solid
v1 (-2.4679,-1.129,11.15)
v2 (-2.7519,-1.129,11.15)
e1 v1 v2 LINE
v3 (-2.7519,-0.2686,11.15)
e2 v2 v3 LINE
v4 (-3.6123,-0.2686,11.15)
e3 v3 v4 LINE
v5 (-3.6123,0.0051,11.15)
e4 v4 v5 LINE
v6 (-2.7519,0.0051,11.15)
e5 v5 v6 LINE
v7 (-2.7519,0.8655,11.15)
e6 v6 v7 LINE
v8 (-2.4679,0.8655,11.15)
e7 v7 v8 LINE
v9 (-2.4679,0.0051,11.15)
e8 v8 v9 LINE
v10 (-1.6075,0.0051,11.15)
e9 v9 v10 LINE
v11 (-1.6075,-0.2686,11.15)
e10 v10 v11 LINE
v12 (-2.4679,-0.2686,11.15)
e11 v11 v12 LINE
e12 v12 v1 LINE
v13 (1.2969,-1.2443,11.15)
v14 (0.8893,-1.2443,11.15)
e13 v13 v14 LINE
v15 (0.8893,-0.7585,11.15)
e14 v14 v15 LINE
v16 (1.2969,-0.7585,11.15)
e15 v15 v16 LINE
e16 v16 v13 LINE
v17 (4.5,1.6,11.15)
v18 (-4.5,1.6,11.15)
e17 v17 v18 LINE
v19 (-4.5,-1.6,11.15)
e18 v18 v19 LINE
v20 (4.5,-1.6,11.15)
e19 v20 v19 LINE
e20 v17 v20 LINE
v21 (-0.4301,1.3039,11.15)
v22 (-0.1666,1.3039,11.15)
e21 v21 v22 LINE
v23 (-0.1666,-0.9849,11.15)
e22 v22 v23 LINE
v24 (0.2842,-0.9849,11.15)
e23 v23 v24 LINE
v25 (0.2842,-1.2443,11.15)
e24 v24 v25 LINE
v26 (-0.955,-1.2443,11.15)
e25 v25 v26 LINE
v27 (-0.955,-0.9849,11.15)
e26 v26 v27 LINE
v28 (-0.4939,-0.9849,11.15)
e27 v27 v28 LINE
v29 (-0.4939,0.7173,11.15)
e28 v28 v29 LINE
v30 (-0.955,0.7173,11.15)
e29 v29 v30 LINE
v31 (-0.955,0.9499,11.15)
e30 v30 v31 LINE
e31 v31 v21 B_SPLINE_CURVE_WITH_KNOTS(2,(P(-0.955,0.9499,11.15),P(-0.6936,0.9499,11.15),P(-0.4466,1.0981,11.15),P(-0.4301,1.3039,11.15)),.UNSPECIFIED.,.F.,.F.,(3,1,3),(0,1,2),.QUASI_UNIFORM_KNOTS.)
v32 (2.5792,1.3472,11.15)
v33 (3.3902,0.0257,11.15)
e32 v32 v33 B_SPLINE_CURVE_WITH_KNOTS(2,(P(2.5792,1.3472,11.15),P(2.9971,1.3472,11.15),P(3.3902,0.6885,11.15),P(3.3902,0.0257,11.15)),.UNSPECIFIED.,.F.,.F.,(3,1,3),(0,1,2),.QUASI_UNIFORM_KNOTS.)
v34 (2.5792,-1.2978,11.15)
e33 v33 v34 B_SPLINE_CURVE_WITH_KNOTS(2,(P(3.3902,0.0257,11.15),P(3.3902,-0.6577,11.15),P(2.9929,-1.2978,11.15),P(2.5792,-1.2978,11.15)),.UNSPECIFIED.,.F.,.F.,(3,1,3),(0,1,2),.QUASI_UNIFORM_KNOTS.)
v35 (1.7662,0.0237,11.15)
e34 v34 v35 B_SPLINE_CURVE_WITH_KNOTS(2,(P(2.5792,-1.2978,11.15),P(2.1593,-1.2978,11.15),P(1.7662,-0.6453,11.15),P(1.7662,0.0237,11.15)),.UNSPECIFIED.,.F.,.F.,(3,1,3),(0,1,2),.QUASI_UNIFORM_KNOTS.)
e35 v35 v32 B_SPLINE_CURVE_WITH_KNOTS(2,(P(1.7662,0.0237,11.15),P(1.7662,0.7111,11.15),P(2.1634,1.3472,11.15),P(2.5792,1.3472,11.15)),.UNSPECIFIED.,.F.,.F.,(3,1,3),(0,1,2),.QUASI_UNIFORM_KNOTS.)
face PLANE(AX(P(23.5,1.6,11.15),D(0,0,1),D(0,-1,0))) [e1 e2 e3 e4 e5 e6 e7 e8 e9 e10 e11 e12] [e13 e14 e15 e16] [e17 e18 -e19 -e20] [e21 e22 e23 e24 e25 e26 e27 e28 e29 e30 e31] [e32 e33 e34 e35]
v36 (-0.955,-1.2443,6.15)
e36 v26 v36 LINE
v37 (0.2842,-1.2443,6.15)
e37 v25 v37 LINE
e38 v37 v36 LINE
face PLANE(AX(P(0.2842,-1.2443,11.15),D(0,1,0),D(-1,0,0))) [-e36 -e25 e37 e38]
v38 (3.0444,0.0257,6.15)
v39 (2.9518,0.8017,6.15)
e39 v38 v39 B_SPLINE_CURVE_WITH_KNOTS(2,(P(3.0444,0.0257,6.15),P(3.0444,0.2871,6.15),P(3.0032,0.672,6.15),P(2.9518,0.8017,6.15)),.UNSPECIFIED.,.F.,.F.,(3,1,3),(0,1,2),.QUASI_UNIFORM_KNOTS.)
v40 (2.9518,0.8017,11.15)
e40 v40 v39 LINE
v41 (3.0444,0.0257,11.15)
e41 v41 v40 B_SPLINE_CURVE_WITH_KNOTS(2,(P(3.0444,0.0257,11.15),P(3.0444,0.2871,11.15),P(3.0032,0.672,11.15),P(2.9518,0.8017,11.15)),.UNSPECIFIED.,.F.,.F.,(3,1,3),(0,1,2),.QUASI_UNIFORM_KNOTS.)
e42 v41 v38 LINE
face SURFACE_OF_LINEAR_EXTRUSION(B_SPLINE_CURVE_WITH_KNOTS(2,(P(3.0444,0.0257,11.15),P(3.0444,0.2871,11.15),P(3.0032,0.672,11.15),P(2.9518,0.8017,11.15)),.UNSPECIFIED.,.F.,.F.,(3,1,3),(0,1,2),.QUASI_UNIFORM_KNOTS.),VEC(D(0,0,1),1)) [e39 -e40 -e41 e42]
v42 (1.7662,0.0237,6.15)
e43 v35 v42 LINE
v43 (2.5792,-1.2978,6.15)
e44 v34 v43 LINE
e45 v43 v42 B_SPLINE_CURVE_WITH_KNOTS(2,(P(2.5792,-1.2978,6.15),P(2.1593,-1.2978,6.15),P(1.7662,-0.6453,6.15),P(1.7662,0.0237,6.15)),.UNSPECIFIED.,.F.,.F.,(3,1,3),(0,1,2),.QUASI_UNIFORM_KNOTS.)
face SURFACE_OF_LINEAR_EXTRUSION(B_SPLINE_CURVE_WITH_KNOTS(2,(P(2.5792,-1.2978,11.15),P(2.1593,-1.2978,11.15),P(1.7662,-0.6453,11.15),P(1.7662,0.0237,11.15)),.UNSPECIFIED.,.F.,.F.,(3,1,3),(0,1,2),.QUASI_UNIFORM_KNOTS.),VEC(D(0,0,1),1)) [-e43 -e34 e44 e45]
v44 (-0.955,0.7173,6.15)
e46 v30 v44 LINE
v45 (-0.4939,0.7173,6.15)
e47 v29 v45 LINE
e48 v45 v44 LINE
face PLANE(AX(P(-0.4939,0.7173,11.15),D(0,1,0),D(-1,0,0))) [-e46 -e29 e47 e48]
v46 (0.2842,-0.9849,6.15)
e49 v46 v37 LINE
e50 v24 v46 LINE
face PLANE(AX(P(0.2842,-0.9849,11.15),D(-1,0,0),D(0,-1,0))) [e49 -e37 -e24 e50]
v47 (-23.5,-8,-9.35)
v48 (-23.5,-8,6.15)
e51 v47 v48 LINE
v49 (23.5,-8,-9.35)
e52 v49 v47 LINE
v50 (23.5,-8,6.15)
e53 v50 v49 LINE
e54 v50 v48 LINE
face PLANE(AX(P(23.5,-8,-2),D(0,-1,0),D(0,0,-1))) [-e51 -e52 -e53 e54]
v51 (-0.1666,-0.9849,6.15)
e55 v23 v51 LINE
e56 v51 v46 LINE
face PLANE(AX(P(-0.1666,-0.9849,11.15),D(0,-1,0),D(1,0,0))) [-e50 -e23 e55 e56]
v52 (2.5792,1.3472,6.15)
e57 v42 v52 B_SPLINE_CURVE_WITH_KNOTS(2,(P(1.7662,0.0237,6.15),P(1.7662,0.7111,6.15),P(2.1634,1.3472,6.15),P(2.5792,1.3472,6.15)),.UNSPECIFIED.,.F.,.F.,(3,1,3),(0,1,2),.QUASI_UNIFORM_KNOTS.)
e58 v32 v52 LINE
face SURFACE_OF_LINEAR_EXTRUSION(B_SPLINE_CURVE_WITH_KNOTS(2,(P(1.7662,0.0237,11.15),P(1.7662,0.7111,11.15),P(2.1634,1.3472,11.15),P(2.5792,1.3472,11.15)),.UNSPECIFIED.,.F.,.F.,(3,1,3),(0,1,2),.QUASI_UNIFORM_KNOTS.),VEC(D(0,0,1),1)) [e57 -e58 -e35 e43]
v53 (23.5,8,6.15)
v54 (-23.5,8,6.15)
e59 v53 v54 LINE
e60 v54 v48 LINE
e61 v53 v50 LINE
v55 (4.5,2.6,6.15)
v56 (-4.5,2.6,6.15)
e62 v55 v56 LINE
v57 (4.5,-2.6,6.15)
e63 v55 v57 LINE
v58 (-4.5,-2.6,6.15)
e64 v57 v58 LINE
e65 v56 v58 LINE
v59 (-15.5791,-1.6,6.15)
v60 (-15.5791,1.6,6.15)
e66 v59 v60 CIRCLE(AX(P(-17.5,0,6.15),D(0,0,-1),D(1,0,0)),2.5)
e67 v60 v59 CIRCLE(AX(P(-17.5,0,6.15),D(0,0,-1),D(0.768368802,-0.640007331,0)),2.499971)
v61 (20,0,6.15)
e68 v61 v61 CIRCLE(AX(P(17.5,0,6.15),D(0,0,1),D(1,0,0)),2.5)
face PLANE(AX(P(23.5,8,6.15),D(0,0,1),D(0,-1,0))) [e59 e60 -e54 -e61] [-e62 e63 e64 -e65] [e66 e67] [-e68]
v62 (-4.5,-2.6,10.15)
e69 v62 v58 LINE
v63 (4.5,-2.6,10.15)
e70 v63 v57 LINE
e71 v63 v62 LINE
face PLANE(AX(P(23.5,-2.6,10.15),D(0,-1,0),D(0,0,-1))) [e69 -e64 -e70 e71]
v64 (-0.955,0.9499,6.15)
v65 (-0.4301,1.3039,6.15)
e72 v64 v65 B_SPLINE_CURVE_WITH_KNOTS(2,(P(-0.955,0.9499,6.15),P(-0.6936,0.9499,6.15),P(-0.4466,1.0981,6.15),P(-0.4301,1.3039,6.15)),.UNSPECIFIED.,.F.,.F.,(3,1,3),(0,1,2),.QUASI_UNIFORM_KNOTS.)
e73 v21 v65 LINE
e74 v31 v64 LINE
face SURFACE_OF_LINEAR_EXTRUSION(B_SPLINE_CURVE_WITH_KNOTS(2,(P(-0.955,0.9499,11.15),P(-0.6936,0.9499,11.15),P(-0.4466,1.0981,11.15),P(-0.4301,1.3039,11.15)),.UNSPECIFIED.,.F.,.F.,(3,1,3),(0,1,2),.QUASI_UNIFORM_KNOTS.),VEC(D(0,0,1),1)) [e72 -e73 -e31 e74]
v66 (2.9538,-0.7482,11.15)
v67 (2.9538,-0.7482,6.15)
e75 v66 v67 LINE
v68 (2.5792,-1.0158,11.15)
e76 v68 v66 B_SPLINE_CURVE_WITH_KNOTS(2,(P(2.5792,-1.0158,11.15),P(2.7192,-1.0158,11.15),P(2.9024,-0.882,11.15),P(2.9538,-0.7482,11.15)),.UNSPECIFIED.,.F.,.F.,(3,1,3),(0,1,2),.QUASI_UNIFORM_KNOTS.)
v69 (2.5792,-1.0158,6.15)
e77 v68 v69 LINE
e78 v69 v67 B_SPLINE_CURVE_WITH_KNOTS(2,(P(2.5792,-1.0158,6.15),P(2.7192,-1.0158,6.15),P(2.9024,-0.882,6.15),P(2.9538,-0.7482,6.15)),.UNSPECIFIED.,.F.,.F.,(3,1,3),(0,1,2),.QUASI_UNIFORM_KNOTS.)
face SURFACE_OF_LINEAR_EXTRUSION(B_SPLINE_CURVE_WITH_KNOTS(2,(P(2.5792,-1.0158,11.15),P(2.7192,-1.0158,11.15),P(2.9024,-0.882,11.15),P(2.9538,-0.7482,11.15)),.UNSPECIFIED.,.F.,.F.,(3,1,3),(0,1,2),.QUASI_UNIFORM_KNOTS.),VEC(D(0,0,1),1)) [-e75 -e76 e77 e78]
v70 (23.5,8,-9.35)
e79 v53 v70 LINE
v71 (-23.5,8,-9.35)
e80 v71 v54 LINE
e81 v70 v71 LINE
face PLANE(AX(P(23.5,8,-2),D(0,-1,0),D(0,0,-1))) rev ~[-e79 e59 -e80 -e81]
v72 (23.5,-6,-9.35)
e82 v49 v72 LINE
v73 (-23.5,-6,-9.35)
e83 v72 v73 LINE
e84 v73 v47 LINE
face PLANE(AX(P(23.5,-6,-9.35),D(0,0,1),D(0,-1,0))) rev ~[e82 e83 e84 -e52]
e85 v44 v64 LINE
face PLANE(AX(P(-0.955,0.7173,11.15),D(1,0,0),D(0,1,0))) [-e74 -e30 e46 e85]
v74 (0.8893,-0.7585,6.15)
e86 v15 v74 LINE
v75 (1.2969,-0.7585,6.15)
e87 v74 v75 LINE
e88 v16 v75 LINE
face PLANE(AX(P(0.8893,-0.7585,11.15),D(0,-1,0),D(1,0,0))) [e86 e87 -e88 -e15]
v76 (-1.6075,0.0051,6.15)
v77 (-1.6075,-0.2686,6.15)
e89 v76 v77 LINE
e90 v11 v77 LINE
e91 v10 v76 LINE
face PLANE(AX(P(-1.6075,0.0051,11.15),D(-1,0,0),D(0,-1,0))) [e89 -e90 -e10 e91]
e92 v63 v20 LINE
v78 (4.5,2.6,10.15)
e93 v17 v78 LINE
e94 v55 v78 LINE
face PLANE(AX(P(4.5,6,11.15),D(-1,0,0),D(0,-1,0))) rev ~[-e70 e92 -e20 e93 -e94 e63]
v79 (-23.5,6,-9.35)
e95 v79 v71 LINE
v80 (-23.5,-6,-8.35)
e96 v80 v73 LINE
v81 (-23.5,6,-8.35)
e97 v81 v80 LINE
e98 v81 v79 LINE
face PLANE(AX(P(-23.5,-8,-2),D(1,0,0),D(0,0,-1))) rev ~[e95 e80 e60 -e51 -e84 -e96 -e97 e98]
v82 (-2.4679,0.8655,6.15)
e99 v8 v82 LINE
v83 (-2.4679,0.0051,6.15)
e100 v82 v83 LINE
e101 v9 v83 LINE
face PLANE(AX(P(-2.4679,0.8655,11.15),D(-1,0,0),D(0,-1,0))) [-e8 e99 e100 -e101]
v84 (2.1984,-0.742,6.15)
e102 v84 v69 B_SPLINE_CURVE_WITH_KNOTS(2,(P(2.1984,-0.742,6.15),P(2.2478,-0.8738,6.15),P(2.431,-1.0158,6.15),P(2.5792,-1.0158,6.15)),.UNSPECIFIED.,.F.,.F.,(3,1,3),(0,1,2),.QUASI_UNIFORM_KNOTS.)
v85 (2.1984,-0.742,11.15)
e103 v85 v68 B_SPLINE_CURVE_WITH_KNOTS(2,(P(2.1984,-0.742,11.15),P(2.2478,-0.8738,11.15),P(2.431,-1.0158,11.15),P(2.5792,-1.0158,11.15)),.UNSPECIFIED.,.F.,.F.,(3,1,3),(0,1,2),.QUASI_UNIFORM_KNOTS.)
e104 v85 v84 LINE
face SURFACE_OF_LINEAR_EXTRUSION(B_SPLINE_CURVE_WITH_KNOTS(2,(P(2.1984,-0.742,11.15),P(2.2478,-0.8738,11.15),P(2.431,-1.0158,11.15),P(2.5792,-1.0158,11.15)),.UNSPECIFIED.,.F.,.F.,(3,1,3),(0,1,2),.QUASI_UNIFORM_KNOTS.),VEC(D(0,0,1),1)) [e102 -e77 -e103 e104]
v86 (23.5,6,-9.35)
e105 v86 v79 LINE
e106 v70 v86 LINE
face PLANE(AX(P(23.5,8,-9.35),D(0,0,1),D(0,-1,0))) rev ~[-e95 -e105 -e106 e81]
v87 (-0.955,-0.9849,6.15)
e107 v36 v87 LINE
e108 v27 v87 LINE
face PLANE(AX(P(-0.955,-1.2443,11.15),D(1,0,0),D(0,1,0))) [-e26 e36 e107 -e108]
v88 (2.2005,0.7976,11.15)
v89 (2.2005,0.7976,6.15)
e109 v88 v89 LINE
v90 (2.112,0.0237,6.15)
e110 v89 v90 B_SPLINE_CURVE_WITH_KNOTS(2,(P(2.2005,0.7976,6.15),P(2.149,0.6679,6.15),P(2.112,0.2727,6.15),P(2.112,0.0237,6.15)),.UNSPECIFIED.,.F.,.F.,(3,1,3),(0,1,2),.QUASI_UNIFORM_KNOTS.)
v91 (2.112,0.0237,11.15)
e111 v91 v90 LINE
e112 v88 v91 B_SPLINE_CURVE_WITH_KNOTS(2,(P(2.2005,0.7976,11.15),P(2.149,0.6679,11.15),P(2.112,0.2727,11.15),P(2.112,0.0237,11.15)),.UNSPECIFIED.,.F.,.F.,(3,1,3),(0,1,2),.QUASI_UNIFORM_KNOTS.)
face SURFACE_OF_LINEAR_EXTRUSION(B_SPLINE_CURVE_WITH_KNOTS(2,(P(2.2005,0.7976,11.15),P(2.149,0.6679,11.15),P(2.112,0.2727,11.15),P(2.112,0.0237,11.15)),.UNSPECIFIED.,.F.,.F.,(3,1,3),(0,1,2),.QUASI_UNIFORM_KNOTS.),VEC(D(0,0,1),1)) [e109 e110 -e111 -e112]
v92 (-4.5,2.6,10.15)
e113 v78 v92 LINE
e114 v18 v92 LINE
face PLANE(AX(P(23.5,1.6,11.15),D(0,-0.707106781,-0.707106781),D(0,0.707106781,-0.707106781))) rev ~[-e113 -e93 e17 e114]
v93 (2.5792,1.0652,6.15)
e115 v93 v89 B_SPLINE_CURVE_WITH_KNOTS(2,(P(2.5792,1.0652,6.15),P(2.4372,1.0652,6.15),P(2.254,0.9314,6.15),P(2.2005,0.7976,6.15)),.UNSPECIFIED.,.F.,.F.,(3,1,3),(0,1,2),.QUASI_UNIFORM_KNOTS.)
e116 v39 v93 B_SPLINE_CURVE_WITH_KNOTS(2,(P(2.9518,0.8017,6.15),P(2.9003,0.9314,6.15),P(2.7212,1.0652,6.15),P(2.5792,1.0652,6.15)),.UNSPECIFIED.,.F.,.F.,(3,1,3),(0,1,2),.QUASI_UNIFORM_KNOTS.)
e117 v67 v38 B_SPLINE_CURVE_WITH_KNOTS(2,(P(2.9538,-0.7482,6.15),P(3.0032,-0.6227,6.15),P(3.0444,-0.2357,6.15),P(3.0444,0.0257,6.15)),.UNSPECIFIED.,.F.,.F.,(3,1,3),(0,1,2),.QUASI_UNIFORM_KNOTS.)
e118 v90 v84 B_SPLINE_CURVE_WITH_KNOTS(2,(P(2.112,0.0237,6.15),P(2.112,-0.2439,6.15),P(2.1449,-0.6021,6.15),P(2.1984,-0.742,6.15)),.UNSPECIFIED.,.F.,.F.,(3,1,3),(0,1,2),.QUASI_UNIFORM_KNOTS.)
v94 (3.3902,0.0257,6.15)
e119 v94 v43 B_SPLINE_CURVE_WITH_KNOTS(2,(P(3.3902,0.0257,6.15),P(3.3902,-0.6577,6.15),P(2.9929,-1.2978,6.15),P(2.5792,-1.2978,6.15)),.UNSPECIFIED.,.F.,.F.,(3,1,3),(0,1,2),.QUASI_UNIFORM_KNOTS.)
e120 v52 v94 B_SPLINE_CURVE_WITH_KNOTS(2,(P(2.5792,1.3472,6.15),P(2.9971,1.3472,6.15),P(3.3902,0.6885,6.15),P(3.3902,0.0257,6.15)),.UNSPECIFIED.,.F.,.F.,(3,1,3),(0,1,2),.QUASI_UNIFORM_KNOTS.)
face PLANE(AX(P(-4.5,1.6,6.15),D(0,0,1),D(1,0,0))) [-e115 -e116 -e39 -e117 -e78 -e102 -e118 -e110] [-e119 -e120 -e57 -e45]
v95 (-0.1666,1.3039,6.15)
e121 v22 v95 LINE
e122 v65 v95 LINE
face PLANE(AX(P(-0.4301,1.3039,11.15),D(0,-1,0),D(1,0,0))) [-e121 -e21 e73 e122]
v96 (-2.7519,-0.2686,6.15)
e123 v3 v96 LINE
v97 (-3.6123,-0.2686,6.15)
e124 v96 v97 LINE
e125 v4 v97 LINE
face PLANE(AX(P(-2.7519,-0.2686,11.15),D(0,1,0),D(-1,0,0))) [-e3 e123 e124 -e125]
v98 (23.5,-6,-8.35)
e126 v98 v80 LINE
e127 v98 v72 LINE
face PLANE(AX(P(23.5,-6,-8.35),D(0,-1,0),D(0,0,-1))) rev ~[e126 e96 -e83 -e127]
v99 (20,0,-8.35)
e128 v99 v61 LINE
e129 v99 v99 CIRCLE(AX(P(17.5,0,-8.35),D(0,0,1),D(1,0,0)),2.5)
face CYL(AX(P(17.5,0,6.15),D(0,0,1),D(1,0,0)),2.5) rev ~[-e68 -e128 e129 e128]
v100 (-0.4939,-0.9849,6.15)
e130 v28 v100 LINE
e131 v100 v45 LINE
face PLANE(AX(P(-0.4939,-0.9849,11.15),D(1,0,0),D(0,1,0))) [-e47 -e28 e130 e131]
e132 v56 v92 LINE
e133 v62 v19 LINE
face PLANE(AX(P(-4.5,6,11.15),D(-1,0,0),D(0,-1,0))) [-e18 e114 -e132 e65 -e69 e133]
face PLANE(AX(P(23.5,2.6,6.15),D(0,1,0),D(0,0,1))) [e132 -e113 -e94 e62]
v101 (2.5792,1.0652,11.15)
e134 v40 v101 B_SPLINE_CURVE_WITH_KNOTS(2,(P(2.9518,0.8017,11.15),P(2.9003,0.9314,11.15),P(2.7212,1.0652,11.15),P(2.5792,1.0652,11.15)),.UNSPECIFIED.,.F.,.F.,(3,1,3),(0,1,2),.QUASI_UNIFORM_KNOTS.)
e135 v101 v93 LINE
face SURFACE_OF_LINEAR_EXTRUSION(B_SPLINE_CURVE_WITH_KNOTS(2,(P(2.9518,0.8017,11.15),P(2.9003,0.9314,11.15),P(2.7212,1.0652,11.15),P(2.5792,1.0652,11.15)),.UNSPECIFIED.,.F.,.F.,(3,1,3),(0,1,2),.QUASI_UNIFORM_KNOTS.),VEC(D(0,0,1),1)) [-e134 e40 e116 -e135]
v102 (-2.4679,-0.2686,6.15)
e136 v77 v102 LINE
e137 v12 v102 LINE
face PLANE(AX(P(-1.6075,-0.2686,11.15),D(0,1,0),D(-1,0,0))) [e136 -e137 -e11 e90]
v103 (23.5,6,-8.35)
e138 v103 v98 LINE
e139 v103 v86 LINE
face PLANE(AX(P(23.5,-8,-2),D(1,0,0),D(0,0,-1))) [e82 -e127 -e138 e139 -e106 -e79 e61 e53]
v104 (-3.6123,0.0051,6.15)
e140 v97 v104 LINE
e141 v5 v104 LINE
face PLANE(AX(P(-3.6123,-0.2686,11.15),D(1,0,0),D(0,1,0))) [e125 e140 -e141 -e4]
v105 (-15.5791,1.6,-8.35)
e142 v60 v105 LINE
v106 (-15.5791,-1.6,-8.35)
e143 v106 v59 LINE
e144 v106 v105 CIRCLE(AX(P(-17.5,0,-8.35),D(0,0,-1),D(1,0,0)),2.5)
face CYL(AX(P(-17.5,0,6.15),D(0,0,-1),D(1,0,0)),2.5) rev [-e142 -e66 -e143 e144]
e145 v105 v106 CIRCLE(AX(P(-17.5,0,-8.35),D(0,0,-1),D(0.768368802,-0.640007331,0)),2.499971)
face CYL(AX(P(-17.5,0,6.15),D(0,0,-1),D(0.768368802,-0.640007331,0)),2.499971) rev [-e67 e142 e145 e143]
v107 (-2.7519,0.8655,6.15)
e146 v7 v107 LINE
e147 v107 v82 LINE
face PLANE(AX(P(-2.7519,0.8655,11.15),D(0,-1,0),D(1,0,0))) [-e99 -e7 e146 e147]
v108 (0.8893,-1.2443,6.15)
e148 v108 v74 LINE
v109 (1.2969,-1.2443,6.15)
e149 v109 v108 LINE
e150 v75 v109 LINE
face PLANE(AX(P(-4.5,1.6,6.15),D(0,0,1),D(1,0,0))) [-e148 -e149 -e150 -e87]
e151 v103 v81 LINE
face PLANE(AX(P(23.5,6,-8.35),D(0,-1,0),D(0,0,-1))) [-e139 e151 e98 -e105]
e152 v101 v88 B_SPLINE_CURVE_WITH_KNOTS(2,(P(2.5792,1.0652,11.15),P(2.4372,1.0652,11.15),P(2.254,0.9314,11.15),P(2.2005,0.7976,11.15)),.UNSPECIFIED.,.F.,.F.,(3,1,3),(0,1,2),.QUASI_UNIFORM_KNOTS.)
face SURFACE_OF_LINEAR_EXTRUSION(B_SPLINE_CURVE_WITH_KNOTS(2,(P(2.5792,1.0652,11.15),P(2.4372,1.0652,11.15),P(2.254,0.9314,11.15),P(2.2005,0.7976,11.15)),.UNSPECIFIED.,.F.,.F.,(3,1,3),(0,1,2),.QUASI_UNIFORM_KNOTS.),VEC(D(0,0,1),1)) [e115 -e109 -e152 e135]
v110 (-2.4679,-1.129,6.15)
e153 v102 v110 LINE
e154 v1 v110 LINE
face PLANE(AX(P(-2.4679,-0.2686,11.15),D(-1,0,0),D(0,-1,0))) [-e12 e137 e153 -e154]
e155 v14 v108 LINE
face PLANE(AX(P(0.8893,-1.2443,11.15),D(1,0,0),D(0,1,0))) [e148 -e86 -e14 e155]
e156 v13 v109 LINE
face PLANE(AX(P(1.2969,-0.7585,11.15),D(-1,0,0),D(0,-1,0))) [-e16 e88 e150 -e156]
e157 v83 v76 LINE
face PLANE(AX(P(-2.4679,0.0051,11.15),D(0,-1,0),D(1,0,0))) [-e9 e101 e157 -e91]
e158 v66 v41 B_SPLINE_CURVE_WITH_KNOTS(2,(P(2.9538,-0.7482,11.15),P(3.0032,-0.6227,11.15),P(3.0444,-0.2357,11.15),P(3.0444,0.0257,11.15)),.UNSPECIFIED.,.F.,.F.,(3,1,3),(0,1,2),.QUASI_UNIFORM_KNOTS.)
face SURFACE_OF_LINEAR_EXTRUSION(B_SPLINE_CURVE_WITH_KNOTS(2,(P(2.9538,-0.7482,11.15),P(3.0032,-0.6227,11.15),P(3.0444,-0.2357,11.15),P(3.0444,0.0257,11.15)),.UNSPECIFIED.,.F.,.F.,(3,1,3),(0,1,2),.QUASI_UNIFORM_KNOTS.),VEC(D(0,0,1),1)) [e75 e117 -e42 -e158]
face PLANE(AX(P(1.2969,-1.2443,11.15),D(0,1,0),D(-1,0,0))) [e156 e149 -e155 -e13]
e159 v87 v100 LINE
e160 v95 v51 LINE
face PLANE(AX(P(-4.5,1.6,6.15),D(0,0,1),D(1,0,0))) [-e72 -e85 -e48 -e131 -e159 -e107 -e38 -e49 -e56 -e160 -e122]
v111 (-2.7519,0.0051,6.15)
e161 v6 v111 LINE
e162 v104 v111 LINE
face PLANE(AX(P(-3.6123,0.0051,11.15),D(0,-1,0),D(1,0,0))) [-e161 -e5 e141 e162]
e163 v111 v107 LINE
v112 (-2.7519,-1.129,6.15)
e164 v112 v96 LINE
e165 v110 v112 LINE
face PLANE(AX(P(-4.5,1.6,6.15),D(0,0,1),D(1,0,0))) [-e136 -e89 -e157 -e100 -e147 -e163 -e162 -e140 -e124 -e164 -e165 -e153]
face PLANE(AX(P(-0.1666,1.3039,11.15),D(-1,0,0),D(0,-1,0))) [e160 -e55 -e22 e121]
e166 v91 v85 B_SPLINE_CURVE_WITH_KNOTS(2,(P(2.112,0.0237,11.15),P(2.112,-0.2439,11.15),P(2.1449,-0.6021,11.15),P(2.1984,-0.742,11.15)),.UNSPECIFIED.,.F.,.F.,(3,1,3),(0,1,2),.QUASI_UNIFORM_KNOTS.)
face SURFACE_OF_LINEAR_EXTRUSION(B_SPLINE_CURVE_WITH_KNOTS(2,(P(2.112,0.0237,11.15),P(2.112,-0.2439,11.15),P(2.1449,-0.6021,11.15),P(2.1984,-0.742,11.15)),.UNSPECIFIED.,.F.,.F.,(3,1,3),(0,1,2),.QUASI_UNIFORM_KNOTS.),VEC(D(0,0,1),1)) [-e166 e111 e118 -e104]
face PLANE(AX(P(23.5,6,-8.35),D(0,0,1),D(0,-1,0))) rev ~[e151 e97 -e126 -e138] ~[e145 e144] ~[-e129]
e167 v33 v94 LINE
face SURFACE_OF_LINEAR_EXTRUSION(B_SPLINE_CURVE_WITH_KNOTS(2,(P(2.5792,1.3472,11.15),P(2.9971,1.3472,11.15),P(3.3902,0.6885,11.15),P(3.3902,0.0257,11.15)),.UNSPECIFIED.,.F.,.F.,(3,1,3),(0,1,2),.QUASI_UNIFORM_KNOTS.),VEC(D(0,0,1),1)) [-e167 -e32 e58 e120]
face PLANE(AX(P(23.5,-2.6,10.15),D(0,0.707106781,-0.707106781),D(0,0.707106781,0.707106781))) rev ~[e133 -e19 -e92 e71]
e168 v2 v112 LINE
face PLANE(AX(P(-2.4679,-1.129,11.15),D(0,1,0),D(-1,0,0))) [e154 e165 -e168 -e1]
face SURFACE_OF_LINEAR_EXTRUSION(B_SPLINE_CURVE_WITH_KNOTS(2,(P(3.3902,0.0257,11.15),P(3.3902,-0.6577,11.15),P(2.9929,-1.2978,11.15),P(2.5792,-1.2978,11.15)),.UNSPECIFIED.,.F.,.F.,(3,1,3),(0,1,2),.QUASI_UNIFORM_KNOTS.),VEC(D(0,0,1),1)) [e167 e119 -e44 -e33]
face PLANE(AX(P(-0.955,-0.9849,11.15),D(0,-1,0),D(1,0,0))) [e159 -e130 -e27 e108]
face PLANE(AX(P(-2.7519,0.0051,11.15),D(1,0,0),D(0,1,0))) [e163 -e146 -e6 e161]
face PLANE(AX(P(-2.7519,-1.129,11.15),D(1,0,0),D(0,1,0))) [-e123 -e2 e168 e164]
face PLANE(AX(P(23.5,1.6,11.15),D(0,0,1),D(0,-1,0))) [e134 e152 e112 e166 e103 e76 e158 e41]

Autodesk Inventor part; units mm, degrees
ref_plane "YZ Plane" through (0, 0, 0) normal (1, 0, 0) x (0, 1, 0)
ref_plane "XZ Plane" through (0, 0, 0) normal (0, 1, 0) x (-1, 0, 0)
ref_plane "XY Plane" through (0, 0, 0) normal (0, 0, 1) x (1, 0, 0)
ref_plane "작업 평면1" through (23.5, -8, -2) normal (1, 0, 0) x (0, 0, -1)
sketch "스케치1" plane through (23.5, -8, -2) normal (1, 0, 0) x (0, 0, -1)
  line L0 (0, 16) -> (-8.15, 16) projected
  line L1 (-8.15, 16) -> (-8.15, 10.6) projected
  line L2 (-8.15, 10.6) -> (-12.15, 10.6) projected
  line L3 (-13.15, 9.6) -> (-12.15, 10.6) projected
  line L4 (-13.15, 9.6) -> (-13.15, 6.4) projected
  line L5 (-12.15, 5.4) -> (-13.15, 6.4) projected
  line L6 (-12.15, 5.4) -> (-8.15, 5.4) projected
  line L7 (-8.15, 5.4) -> (-8.15, 0) projected
  line L8 (-8.15, 0) -> (0, 0) projected
  line L9 (0, 16) -> (7.35, 16)
  line L10 (7.35, 16) -> (7.35, 15)
  line L11 (0, 0) -> (7.35, 0)
  line L12 (7.35, 0) -> (7.35, 1)
  line L13 (0, 16) -> (-8.15, 16)
  line L14 (-8.15, 10.6) -> (-12.15, 10.6) projected
  line L15 (-8.15, 10.6) -> (-12.15, 10.6)
  line L16 (-12.15, 10.6) -> (-13.15, 9.6)
  line L17 (-13.15, 6.4) -> (-12.15, 5.4)
  line L18 (6.35, 14) -> (7.35, 14)
  line L19 (7.35, 14) -> (7.35, 15)
  line L20 (6.35, 2) -> (7.35, 2)
  line L21 (7.35, 2) -> (7.35, 1)
  line L22 (6.35, 14) -> (6.35, 2)
  point P0 (-2, 8)
  point P1 (4.35, 10.6)
  point P2 (4.35, 5.4)
  dimension "d1" = 7.35
  dimension "d13" = 7.35
sketch "스케치2" plane through (-23.5, 8, 6.15) normal (0, 0, 1) x (1, 0, 0)
  arc A0 (7.9209, -9.6) -> (7.9209, -6.4) centre (6, -8) ccw projected
  line L0 (39.0791, -9.6) -> (7.9209, -9.6) projected
  circle A1 centre (6, -8) radius 2.5
  circle A2 centre (41, -8) radius 2.5 projected
  circle A3 centre (41, -8) radius 2.5
  point P0 (23.5, -8)
  point P1 (7.9209, -6.4)
extrude "돌출1" add sketch "스케치1" against normal up to surface (47 mm away)
extrude "돌출2" cut sketch "스케치2" along normal mid plane 50
sketch "스케치3" plane through (-15.5791, 1.6, 11.15) normal (0, 0, 1) x (1, 0, 0)
  line L0 (15.5791, -14.4593) -> (15.5791, 15.5737)
  line L1 (-7.9209, 4.4) -> (-7.9209, -7.6) projected
  line L2 (-7.9209, 4.4) -> (11.0791, 4.4)
  line L3 (11.0791, 4.4) -> (11.0791, -7.6)
  line L4 (11.0791, -7.6) -> (-7.9209, -7.6)
  line L5 (-7.9209, -7.6) -> (-7.9209, 4.4)
  line L6 (39.0791, 4.4) -> (39.0791, -7.6)
  line L7 (39.0791, 4.4) -> (20.0791, 4.4)
  line L8 (20.0791, 4.4) -> (20.0791, -7.6)
  line L9 (20.0791, -7.6) -> (39.0791, -7.6)
  line L10 (39.0791, -7.6) -> (39.0791, 4.4)
  point P0 (15.5791, -1.6)
  dimension "d9" = 19
extrude "돌출3" cut sketch "스케치3" against normal up to surface (5 mm away)
sketch "스케치4" plane through (-4.5, 1.6, 11.15) normal (0, 0, 1) x (1, 0, 0)
  line L0 (0.6181, -0.2528) -> (7.2489, -0.2528) construction
  line L1 (7.2489, -0.2528) -> (7.2489, -2.6222) construction
  line L2 (7.2489, -2.6222) -> (0.6181, -2.6222) construction
  line L3 (0.6181, -2.6222) -> (0.6181, -0.2528) construction
  line L4 (2.8925, -1.8686) -> (2.0321, -1.8686)
  line L5 (2.0321, -1.8686) -> (2.0321, -2.729)
  line L6 (2.0321, -2.729) -> (1.7481, -2.729)
  line L7 (1.7481, -2.729) -> (1.7481, -1.8686)
  line L8 (1.7481, -1.8686) -> (0.8877, -1.8686)
  line L9 (0.8877, -1.8686) -> (0.8877, -1.5949)
  line L10 (0.8877, -1.5949) -> (1.7481, -1.5949)
  line L11 (1.7481, -1.5949) -> (1.7481, -0.7345)
  line L12 (1.7481, -0.7345) -> (2.0321, -0.7345)
  line L13 (2.0321, -0.7345) -> (2.0321, -1.5949)
  line L14 (2.0321, -1.5949) -> (2.8925, -1.5949)
  line L15 (2.8925, -1.5949) -> (2.8925, -1.8686)
  line L16 (4.7842, -2.8443) -> (3.545, -2.8443)
  line L17 (3.545, -2.8443) -> (3.545, -2.5849)
  line L18 (3.545, -2.5849) -> (4.0061, -2.5849)
  line L19 (4.0061, -2.5849) -> (4.0061, -0.8827)
  line L20 (4.0061, -0.8827) -> (3.545, -0.8827)
  line L21 (3.545, -0.8827) -> (3.545, -0.6501)
  spline S0 degree 2 poles (3.545, -0.6501) (3.8064, -0.6501) (4.0534, -0.5019) (4.0699, -0.2961) knots 0 0 0 1 2 2 2
  line L22 (4.0699, -0.2961) -> (4.3334, -0.2961)
  line L23 (4.3334, -0.2961) -> (4.3334, -2.5849)
  line L24 (4.3334, -2.5849) -> (4.7842, -2.5849)
  line L25 (4.7842, -2.5849) -> (4.7842, -2.8443)
  line L26 (5.7969, -2.8443) -> (5.3893, -2.8443)
  line L27 (5.3893, -2.8443) -> (5.3893, -2.3585)
  line L28 (5.3893, -2.3585) -> (5.7969, -2.3585)
  line L29 (5.7969, -2.3585) -> (5.7969, -2.8443)
  spline S1 degree 2 poles (7.8902, -1.5743) (7.8902, -2.2577) (7.4929, -2.8978) (7.0792, -2.8978) knots 0 0 0 1 2 2 2
  spline S2 degree 2 poles (7.0792, -2.8978) (6.6593, -2.8978) (6.2662, -2.2453) (6.2662, -1.5763) knots 0 0 0 1 2 2 2
  spline S3 degree 2 poles (6.2662, -1.5763) (6.2662, -0.8889) (6.6634, -0.2528) (7.0792, -0.2528) knots 0 0 0 1 2 2 2
  spline S4 degree 2 poles (7.0792, -0.2528) (7.4971, -0.2528) (7.8902, -0.9115) (7.8902, -1.5743) knots 0 0 0 1 2 2 2
  spline S5 degree 2 poles (7.4538, -2.3482) (7.5032, -2.2227) (7.5444, -1.8357) (7.5444, -1.5743) knots 0 0 0 1 2 2 2
  spline S6 degree 2 poles (7.5444, -1.5743) (7.5444, -1.3129) (7.5032, -0.928) (7.4518, -0.7983) knots 0 0 0 1 2 2 2
  spline S7 degree 2 poles (7.4518, -0.7983) (7.4003, -0.6686) (7.2212, -0.5348) (7.0792, -0.5348) knots 0 0 0 1 2 2 2
  spline S8 degree 2 poles (7.0792, -0.5348) (6.9372, -0.5348) (6.754, -0.6686) (6.7005, -0.8024) knots 0 0 0 1 2 2 2
  spline S9 degree 2 poles (6.7005, -0.8024) (6.649, -0.9321) (6.612, -1.3273) (6.612, -1.5763) knots 0 0 0 1 2 2 2
  spline S10 degree 2 poles (6.612, -1.5763) (6.612, -1.8439) (6.6449, -2.2021) (6.6984, -2.342) knots 0 0 0 1 2 2 2
  spline S11 degree 2 poles (6.6984, -2.342) (6.7478, -2.4738) (6.931, -2.6158) (7.0792, -2.6158) knots 0 0 0 1 2 2 2
  spline S12 degree 2 poles (7.0792, -2.6158) (7.2192, -2.6158) (7.4024, -2.482) (7.4538, -2.3482) knots 0 0 0 1 2 2 2
  point P0 (4.5, -1.6)
extrude "돌출4" cut sketch "스케치4" against normal blind 5
properties part number "Bearing Spacer_V2_1mm"
